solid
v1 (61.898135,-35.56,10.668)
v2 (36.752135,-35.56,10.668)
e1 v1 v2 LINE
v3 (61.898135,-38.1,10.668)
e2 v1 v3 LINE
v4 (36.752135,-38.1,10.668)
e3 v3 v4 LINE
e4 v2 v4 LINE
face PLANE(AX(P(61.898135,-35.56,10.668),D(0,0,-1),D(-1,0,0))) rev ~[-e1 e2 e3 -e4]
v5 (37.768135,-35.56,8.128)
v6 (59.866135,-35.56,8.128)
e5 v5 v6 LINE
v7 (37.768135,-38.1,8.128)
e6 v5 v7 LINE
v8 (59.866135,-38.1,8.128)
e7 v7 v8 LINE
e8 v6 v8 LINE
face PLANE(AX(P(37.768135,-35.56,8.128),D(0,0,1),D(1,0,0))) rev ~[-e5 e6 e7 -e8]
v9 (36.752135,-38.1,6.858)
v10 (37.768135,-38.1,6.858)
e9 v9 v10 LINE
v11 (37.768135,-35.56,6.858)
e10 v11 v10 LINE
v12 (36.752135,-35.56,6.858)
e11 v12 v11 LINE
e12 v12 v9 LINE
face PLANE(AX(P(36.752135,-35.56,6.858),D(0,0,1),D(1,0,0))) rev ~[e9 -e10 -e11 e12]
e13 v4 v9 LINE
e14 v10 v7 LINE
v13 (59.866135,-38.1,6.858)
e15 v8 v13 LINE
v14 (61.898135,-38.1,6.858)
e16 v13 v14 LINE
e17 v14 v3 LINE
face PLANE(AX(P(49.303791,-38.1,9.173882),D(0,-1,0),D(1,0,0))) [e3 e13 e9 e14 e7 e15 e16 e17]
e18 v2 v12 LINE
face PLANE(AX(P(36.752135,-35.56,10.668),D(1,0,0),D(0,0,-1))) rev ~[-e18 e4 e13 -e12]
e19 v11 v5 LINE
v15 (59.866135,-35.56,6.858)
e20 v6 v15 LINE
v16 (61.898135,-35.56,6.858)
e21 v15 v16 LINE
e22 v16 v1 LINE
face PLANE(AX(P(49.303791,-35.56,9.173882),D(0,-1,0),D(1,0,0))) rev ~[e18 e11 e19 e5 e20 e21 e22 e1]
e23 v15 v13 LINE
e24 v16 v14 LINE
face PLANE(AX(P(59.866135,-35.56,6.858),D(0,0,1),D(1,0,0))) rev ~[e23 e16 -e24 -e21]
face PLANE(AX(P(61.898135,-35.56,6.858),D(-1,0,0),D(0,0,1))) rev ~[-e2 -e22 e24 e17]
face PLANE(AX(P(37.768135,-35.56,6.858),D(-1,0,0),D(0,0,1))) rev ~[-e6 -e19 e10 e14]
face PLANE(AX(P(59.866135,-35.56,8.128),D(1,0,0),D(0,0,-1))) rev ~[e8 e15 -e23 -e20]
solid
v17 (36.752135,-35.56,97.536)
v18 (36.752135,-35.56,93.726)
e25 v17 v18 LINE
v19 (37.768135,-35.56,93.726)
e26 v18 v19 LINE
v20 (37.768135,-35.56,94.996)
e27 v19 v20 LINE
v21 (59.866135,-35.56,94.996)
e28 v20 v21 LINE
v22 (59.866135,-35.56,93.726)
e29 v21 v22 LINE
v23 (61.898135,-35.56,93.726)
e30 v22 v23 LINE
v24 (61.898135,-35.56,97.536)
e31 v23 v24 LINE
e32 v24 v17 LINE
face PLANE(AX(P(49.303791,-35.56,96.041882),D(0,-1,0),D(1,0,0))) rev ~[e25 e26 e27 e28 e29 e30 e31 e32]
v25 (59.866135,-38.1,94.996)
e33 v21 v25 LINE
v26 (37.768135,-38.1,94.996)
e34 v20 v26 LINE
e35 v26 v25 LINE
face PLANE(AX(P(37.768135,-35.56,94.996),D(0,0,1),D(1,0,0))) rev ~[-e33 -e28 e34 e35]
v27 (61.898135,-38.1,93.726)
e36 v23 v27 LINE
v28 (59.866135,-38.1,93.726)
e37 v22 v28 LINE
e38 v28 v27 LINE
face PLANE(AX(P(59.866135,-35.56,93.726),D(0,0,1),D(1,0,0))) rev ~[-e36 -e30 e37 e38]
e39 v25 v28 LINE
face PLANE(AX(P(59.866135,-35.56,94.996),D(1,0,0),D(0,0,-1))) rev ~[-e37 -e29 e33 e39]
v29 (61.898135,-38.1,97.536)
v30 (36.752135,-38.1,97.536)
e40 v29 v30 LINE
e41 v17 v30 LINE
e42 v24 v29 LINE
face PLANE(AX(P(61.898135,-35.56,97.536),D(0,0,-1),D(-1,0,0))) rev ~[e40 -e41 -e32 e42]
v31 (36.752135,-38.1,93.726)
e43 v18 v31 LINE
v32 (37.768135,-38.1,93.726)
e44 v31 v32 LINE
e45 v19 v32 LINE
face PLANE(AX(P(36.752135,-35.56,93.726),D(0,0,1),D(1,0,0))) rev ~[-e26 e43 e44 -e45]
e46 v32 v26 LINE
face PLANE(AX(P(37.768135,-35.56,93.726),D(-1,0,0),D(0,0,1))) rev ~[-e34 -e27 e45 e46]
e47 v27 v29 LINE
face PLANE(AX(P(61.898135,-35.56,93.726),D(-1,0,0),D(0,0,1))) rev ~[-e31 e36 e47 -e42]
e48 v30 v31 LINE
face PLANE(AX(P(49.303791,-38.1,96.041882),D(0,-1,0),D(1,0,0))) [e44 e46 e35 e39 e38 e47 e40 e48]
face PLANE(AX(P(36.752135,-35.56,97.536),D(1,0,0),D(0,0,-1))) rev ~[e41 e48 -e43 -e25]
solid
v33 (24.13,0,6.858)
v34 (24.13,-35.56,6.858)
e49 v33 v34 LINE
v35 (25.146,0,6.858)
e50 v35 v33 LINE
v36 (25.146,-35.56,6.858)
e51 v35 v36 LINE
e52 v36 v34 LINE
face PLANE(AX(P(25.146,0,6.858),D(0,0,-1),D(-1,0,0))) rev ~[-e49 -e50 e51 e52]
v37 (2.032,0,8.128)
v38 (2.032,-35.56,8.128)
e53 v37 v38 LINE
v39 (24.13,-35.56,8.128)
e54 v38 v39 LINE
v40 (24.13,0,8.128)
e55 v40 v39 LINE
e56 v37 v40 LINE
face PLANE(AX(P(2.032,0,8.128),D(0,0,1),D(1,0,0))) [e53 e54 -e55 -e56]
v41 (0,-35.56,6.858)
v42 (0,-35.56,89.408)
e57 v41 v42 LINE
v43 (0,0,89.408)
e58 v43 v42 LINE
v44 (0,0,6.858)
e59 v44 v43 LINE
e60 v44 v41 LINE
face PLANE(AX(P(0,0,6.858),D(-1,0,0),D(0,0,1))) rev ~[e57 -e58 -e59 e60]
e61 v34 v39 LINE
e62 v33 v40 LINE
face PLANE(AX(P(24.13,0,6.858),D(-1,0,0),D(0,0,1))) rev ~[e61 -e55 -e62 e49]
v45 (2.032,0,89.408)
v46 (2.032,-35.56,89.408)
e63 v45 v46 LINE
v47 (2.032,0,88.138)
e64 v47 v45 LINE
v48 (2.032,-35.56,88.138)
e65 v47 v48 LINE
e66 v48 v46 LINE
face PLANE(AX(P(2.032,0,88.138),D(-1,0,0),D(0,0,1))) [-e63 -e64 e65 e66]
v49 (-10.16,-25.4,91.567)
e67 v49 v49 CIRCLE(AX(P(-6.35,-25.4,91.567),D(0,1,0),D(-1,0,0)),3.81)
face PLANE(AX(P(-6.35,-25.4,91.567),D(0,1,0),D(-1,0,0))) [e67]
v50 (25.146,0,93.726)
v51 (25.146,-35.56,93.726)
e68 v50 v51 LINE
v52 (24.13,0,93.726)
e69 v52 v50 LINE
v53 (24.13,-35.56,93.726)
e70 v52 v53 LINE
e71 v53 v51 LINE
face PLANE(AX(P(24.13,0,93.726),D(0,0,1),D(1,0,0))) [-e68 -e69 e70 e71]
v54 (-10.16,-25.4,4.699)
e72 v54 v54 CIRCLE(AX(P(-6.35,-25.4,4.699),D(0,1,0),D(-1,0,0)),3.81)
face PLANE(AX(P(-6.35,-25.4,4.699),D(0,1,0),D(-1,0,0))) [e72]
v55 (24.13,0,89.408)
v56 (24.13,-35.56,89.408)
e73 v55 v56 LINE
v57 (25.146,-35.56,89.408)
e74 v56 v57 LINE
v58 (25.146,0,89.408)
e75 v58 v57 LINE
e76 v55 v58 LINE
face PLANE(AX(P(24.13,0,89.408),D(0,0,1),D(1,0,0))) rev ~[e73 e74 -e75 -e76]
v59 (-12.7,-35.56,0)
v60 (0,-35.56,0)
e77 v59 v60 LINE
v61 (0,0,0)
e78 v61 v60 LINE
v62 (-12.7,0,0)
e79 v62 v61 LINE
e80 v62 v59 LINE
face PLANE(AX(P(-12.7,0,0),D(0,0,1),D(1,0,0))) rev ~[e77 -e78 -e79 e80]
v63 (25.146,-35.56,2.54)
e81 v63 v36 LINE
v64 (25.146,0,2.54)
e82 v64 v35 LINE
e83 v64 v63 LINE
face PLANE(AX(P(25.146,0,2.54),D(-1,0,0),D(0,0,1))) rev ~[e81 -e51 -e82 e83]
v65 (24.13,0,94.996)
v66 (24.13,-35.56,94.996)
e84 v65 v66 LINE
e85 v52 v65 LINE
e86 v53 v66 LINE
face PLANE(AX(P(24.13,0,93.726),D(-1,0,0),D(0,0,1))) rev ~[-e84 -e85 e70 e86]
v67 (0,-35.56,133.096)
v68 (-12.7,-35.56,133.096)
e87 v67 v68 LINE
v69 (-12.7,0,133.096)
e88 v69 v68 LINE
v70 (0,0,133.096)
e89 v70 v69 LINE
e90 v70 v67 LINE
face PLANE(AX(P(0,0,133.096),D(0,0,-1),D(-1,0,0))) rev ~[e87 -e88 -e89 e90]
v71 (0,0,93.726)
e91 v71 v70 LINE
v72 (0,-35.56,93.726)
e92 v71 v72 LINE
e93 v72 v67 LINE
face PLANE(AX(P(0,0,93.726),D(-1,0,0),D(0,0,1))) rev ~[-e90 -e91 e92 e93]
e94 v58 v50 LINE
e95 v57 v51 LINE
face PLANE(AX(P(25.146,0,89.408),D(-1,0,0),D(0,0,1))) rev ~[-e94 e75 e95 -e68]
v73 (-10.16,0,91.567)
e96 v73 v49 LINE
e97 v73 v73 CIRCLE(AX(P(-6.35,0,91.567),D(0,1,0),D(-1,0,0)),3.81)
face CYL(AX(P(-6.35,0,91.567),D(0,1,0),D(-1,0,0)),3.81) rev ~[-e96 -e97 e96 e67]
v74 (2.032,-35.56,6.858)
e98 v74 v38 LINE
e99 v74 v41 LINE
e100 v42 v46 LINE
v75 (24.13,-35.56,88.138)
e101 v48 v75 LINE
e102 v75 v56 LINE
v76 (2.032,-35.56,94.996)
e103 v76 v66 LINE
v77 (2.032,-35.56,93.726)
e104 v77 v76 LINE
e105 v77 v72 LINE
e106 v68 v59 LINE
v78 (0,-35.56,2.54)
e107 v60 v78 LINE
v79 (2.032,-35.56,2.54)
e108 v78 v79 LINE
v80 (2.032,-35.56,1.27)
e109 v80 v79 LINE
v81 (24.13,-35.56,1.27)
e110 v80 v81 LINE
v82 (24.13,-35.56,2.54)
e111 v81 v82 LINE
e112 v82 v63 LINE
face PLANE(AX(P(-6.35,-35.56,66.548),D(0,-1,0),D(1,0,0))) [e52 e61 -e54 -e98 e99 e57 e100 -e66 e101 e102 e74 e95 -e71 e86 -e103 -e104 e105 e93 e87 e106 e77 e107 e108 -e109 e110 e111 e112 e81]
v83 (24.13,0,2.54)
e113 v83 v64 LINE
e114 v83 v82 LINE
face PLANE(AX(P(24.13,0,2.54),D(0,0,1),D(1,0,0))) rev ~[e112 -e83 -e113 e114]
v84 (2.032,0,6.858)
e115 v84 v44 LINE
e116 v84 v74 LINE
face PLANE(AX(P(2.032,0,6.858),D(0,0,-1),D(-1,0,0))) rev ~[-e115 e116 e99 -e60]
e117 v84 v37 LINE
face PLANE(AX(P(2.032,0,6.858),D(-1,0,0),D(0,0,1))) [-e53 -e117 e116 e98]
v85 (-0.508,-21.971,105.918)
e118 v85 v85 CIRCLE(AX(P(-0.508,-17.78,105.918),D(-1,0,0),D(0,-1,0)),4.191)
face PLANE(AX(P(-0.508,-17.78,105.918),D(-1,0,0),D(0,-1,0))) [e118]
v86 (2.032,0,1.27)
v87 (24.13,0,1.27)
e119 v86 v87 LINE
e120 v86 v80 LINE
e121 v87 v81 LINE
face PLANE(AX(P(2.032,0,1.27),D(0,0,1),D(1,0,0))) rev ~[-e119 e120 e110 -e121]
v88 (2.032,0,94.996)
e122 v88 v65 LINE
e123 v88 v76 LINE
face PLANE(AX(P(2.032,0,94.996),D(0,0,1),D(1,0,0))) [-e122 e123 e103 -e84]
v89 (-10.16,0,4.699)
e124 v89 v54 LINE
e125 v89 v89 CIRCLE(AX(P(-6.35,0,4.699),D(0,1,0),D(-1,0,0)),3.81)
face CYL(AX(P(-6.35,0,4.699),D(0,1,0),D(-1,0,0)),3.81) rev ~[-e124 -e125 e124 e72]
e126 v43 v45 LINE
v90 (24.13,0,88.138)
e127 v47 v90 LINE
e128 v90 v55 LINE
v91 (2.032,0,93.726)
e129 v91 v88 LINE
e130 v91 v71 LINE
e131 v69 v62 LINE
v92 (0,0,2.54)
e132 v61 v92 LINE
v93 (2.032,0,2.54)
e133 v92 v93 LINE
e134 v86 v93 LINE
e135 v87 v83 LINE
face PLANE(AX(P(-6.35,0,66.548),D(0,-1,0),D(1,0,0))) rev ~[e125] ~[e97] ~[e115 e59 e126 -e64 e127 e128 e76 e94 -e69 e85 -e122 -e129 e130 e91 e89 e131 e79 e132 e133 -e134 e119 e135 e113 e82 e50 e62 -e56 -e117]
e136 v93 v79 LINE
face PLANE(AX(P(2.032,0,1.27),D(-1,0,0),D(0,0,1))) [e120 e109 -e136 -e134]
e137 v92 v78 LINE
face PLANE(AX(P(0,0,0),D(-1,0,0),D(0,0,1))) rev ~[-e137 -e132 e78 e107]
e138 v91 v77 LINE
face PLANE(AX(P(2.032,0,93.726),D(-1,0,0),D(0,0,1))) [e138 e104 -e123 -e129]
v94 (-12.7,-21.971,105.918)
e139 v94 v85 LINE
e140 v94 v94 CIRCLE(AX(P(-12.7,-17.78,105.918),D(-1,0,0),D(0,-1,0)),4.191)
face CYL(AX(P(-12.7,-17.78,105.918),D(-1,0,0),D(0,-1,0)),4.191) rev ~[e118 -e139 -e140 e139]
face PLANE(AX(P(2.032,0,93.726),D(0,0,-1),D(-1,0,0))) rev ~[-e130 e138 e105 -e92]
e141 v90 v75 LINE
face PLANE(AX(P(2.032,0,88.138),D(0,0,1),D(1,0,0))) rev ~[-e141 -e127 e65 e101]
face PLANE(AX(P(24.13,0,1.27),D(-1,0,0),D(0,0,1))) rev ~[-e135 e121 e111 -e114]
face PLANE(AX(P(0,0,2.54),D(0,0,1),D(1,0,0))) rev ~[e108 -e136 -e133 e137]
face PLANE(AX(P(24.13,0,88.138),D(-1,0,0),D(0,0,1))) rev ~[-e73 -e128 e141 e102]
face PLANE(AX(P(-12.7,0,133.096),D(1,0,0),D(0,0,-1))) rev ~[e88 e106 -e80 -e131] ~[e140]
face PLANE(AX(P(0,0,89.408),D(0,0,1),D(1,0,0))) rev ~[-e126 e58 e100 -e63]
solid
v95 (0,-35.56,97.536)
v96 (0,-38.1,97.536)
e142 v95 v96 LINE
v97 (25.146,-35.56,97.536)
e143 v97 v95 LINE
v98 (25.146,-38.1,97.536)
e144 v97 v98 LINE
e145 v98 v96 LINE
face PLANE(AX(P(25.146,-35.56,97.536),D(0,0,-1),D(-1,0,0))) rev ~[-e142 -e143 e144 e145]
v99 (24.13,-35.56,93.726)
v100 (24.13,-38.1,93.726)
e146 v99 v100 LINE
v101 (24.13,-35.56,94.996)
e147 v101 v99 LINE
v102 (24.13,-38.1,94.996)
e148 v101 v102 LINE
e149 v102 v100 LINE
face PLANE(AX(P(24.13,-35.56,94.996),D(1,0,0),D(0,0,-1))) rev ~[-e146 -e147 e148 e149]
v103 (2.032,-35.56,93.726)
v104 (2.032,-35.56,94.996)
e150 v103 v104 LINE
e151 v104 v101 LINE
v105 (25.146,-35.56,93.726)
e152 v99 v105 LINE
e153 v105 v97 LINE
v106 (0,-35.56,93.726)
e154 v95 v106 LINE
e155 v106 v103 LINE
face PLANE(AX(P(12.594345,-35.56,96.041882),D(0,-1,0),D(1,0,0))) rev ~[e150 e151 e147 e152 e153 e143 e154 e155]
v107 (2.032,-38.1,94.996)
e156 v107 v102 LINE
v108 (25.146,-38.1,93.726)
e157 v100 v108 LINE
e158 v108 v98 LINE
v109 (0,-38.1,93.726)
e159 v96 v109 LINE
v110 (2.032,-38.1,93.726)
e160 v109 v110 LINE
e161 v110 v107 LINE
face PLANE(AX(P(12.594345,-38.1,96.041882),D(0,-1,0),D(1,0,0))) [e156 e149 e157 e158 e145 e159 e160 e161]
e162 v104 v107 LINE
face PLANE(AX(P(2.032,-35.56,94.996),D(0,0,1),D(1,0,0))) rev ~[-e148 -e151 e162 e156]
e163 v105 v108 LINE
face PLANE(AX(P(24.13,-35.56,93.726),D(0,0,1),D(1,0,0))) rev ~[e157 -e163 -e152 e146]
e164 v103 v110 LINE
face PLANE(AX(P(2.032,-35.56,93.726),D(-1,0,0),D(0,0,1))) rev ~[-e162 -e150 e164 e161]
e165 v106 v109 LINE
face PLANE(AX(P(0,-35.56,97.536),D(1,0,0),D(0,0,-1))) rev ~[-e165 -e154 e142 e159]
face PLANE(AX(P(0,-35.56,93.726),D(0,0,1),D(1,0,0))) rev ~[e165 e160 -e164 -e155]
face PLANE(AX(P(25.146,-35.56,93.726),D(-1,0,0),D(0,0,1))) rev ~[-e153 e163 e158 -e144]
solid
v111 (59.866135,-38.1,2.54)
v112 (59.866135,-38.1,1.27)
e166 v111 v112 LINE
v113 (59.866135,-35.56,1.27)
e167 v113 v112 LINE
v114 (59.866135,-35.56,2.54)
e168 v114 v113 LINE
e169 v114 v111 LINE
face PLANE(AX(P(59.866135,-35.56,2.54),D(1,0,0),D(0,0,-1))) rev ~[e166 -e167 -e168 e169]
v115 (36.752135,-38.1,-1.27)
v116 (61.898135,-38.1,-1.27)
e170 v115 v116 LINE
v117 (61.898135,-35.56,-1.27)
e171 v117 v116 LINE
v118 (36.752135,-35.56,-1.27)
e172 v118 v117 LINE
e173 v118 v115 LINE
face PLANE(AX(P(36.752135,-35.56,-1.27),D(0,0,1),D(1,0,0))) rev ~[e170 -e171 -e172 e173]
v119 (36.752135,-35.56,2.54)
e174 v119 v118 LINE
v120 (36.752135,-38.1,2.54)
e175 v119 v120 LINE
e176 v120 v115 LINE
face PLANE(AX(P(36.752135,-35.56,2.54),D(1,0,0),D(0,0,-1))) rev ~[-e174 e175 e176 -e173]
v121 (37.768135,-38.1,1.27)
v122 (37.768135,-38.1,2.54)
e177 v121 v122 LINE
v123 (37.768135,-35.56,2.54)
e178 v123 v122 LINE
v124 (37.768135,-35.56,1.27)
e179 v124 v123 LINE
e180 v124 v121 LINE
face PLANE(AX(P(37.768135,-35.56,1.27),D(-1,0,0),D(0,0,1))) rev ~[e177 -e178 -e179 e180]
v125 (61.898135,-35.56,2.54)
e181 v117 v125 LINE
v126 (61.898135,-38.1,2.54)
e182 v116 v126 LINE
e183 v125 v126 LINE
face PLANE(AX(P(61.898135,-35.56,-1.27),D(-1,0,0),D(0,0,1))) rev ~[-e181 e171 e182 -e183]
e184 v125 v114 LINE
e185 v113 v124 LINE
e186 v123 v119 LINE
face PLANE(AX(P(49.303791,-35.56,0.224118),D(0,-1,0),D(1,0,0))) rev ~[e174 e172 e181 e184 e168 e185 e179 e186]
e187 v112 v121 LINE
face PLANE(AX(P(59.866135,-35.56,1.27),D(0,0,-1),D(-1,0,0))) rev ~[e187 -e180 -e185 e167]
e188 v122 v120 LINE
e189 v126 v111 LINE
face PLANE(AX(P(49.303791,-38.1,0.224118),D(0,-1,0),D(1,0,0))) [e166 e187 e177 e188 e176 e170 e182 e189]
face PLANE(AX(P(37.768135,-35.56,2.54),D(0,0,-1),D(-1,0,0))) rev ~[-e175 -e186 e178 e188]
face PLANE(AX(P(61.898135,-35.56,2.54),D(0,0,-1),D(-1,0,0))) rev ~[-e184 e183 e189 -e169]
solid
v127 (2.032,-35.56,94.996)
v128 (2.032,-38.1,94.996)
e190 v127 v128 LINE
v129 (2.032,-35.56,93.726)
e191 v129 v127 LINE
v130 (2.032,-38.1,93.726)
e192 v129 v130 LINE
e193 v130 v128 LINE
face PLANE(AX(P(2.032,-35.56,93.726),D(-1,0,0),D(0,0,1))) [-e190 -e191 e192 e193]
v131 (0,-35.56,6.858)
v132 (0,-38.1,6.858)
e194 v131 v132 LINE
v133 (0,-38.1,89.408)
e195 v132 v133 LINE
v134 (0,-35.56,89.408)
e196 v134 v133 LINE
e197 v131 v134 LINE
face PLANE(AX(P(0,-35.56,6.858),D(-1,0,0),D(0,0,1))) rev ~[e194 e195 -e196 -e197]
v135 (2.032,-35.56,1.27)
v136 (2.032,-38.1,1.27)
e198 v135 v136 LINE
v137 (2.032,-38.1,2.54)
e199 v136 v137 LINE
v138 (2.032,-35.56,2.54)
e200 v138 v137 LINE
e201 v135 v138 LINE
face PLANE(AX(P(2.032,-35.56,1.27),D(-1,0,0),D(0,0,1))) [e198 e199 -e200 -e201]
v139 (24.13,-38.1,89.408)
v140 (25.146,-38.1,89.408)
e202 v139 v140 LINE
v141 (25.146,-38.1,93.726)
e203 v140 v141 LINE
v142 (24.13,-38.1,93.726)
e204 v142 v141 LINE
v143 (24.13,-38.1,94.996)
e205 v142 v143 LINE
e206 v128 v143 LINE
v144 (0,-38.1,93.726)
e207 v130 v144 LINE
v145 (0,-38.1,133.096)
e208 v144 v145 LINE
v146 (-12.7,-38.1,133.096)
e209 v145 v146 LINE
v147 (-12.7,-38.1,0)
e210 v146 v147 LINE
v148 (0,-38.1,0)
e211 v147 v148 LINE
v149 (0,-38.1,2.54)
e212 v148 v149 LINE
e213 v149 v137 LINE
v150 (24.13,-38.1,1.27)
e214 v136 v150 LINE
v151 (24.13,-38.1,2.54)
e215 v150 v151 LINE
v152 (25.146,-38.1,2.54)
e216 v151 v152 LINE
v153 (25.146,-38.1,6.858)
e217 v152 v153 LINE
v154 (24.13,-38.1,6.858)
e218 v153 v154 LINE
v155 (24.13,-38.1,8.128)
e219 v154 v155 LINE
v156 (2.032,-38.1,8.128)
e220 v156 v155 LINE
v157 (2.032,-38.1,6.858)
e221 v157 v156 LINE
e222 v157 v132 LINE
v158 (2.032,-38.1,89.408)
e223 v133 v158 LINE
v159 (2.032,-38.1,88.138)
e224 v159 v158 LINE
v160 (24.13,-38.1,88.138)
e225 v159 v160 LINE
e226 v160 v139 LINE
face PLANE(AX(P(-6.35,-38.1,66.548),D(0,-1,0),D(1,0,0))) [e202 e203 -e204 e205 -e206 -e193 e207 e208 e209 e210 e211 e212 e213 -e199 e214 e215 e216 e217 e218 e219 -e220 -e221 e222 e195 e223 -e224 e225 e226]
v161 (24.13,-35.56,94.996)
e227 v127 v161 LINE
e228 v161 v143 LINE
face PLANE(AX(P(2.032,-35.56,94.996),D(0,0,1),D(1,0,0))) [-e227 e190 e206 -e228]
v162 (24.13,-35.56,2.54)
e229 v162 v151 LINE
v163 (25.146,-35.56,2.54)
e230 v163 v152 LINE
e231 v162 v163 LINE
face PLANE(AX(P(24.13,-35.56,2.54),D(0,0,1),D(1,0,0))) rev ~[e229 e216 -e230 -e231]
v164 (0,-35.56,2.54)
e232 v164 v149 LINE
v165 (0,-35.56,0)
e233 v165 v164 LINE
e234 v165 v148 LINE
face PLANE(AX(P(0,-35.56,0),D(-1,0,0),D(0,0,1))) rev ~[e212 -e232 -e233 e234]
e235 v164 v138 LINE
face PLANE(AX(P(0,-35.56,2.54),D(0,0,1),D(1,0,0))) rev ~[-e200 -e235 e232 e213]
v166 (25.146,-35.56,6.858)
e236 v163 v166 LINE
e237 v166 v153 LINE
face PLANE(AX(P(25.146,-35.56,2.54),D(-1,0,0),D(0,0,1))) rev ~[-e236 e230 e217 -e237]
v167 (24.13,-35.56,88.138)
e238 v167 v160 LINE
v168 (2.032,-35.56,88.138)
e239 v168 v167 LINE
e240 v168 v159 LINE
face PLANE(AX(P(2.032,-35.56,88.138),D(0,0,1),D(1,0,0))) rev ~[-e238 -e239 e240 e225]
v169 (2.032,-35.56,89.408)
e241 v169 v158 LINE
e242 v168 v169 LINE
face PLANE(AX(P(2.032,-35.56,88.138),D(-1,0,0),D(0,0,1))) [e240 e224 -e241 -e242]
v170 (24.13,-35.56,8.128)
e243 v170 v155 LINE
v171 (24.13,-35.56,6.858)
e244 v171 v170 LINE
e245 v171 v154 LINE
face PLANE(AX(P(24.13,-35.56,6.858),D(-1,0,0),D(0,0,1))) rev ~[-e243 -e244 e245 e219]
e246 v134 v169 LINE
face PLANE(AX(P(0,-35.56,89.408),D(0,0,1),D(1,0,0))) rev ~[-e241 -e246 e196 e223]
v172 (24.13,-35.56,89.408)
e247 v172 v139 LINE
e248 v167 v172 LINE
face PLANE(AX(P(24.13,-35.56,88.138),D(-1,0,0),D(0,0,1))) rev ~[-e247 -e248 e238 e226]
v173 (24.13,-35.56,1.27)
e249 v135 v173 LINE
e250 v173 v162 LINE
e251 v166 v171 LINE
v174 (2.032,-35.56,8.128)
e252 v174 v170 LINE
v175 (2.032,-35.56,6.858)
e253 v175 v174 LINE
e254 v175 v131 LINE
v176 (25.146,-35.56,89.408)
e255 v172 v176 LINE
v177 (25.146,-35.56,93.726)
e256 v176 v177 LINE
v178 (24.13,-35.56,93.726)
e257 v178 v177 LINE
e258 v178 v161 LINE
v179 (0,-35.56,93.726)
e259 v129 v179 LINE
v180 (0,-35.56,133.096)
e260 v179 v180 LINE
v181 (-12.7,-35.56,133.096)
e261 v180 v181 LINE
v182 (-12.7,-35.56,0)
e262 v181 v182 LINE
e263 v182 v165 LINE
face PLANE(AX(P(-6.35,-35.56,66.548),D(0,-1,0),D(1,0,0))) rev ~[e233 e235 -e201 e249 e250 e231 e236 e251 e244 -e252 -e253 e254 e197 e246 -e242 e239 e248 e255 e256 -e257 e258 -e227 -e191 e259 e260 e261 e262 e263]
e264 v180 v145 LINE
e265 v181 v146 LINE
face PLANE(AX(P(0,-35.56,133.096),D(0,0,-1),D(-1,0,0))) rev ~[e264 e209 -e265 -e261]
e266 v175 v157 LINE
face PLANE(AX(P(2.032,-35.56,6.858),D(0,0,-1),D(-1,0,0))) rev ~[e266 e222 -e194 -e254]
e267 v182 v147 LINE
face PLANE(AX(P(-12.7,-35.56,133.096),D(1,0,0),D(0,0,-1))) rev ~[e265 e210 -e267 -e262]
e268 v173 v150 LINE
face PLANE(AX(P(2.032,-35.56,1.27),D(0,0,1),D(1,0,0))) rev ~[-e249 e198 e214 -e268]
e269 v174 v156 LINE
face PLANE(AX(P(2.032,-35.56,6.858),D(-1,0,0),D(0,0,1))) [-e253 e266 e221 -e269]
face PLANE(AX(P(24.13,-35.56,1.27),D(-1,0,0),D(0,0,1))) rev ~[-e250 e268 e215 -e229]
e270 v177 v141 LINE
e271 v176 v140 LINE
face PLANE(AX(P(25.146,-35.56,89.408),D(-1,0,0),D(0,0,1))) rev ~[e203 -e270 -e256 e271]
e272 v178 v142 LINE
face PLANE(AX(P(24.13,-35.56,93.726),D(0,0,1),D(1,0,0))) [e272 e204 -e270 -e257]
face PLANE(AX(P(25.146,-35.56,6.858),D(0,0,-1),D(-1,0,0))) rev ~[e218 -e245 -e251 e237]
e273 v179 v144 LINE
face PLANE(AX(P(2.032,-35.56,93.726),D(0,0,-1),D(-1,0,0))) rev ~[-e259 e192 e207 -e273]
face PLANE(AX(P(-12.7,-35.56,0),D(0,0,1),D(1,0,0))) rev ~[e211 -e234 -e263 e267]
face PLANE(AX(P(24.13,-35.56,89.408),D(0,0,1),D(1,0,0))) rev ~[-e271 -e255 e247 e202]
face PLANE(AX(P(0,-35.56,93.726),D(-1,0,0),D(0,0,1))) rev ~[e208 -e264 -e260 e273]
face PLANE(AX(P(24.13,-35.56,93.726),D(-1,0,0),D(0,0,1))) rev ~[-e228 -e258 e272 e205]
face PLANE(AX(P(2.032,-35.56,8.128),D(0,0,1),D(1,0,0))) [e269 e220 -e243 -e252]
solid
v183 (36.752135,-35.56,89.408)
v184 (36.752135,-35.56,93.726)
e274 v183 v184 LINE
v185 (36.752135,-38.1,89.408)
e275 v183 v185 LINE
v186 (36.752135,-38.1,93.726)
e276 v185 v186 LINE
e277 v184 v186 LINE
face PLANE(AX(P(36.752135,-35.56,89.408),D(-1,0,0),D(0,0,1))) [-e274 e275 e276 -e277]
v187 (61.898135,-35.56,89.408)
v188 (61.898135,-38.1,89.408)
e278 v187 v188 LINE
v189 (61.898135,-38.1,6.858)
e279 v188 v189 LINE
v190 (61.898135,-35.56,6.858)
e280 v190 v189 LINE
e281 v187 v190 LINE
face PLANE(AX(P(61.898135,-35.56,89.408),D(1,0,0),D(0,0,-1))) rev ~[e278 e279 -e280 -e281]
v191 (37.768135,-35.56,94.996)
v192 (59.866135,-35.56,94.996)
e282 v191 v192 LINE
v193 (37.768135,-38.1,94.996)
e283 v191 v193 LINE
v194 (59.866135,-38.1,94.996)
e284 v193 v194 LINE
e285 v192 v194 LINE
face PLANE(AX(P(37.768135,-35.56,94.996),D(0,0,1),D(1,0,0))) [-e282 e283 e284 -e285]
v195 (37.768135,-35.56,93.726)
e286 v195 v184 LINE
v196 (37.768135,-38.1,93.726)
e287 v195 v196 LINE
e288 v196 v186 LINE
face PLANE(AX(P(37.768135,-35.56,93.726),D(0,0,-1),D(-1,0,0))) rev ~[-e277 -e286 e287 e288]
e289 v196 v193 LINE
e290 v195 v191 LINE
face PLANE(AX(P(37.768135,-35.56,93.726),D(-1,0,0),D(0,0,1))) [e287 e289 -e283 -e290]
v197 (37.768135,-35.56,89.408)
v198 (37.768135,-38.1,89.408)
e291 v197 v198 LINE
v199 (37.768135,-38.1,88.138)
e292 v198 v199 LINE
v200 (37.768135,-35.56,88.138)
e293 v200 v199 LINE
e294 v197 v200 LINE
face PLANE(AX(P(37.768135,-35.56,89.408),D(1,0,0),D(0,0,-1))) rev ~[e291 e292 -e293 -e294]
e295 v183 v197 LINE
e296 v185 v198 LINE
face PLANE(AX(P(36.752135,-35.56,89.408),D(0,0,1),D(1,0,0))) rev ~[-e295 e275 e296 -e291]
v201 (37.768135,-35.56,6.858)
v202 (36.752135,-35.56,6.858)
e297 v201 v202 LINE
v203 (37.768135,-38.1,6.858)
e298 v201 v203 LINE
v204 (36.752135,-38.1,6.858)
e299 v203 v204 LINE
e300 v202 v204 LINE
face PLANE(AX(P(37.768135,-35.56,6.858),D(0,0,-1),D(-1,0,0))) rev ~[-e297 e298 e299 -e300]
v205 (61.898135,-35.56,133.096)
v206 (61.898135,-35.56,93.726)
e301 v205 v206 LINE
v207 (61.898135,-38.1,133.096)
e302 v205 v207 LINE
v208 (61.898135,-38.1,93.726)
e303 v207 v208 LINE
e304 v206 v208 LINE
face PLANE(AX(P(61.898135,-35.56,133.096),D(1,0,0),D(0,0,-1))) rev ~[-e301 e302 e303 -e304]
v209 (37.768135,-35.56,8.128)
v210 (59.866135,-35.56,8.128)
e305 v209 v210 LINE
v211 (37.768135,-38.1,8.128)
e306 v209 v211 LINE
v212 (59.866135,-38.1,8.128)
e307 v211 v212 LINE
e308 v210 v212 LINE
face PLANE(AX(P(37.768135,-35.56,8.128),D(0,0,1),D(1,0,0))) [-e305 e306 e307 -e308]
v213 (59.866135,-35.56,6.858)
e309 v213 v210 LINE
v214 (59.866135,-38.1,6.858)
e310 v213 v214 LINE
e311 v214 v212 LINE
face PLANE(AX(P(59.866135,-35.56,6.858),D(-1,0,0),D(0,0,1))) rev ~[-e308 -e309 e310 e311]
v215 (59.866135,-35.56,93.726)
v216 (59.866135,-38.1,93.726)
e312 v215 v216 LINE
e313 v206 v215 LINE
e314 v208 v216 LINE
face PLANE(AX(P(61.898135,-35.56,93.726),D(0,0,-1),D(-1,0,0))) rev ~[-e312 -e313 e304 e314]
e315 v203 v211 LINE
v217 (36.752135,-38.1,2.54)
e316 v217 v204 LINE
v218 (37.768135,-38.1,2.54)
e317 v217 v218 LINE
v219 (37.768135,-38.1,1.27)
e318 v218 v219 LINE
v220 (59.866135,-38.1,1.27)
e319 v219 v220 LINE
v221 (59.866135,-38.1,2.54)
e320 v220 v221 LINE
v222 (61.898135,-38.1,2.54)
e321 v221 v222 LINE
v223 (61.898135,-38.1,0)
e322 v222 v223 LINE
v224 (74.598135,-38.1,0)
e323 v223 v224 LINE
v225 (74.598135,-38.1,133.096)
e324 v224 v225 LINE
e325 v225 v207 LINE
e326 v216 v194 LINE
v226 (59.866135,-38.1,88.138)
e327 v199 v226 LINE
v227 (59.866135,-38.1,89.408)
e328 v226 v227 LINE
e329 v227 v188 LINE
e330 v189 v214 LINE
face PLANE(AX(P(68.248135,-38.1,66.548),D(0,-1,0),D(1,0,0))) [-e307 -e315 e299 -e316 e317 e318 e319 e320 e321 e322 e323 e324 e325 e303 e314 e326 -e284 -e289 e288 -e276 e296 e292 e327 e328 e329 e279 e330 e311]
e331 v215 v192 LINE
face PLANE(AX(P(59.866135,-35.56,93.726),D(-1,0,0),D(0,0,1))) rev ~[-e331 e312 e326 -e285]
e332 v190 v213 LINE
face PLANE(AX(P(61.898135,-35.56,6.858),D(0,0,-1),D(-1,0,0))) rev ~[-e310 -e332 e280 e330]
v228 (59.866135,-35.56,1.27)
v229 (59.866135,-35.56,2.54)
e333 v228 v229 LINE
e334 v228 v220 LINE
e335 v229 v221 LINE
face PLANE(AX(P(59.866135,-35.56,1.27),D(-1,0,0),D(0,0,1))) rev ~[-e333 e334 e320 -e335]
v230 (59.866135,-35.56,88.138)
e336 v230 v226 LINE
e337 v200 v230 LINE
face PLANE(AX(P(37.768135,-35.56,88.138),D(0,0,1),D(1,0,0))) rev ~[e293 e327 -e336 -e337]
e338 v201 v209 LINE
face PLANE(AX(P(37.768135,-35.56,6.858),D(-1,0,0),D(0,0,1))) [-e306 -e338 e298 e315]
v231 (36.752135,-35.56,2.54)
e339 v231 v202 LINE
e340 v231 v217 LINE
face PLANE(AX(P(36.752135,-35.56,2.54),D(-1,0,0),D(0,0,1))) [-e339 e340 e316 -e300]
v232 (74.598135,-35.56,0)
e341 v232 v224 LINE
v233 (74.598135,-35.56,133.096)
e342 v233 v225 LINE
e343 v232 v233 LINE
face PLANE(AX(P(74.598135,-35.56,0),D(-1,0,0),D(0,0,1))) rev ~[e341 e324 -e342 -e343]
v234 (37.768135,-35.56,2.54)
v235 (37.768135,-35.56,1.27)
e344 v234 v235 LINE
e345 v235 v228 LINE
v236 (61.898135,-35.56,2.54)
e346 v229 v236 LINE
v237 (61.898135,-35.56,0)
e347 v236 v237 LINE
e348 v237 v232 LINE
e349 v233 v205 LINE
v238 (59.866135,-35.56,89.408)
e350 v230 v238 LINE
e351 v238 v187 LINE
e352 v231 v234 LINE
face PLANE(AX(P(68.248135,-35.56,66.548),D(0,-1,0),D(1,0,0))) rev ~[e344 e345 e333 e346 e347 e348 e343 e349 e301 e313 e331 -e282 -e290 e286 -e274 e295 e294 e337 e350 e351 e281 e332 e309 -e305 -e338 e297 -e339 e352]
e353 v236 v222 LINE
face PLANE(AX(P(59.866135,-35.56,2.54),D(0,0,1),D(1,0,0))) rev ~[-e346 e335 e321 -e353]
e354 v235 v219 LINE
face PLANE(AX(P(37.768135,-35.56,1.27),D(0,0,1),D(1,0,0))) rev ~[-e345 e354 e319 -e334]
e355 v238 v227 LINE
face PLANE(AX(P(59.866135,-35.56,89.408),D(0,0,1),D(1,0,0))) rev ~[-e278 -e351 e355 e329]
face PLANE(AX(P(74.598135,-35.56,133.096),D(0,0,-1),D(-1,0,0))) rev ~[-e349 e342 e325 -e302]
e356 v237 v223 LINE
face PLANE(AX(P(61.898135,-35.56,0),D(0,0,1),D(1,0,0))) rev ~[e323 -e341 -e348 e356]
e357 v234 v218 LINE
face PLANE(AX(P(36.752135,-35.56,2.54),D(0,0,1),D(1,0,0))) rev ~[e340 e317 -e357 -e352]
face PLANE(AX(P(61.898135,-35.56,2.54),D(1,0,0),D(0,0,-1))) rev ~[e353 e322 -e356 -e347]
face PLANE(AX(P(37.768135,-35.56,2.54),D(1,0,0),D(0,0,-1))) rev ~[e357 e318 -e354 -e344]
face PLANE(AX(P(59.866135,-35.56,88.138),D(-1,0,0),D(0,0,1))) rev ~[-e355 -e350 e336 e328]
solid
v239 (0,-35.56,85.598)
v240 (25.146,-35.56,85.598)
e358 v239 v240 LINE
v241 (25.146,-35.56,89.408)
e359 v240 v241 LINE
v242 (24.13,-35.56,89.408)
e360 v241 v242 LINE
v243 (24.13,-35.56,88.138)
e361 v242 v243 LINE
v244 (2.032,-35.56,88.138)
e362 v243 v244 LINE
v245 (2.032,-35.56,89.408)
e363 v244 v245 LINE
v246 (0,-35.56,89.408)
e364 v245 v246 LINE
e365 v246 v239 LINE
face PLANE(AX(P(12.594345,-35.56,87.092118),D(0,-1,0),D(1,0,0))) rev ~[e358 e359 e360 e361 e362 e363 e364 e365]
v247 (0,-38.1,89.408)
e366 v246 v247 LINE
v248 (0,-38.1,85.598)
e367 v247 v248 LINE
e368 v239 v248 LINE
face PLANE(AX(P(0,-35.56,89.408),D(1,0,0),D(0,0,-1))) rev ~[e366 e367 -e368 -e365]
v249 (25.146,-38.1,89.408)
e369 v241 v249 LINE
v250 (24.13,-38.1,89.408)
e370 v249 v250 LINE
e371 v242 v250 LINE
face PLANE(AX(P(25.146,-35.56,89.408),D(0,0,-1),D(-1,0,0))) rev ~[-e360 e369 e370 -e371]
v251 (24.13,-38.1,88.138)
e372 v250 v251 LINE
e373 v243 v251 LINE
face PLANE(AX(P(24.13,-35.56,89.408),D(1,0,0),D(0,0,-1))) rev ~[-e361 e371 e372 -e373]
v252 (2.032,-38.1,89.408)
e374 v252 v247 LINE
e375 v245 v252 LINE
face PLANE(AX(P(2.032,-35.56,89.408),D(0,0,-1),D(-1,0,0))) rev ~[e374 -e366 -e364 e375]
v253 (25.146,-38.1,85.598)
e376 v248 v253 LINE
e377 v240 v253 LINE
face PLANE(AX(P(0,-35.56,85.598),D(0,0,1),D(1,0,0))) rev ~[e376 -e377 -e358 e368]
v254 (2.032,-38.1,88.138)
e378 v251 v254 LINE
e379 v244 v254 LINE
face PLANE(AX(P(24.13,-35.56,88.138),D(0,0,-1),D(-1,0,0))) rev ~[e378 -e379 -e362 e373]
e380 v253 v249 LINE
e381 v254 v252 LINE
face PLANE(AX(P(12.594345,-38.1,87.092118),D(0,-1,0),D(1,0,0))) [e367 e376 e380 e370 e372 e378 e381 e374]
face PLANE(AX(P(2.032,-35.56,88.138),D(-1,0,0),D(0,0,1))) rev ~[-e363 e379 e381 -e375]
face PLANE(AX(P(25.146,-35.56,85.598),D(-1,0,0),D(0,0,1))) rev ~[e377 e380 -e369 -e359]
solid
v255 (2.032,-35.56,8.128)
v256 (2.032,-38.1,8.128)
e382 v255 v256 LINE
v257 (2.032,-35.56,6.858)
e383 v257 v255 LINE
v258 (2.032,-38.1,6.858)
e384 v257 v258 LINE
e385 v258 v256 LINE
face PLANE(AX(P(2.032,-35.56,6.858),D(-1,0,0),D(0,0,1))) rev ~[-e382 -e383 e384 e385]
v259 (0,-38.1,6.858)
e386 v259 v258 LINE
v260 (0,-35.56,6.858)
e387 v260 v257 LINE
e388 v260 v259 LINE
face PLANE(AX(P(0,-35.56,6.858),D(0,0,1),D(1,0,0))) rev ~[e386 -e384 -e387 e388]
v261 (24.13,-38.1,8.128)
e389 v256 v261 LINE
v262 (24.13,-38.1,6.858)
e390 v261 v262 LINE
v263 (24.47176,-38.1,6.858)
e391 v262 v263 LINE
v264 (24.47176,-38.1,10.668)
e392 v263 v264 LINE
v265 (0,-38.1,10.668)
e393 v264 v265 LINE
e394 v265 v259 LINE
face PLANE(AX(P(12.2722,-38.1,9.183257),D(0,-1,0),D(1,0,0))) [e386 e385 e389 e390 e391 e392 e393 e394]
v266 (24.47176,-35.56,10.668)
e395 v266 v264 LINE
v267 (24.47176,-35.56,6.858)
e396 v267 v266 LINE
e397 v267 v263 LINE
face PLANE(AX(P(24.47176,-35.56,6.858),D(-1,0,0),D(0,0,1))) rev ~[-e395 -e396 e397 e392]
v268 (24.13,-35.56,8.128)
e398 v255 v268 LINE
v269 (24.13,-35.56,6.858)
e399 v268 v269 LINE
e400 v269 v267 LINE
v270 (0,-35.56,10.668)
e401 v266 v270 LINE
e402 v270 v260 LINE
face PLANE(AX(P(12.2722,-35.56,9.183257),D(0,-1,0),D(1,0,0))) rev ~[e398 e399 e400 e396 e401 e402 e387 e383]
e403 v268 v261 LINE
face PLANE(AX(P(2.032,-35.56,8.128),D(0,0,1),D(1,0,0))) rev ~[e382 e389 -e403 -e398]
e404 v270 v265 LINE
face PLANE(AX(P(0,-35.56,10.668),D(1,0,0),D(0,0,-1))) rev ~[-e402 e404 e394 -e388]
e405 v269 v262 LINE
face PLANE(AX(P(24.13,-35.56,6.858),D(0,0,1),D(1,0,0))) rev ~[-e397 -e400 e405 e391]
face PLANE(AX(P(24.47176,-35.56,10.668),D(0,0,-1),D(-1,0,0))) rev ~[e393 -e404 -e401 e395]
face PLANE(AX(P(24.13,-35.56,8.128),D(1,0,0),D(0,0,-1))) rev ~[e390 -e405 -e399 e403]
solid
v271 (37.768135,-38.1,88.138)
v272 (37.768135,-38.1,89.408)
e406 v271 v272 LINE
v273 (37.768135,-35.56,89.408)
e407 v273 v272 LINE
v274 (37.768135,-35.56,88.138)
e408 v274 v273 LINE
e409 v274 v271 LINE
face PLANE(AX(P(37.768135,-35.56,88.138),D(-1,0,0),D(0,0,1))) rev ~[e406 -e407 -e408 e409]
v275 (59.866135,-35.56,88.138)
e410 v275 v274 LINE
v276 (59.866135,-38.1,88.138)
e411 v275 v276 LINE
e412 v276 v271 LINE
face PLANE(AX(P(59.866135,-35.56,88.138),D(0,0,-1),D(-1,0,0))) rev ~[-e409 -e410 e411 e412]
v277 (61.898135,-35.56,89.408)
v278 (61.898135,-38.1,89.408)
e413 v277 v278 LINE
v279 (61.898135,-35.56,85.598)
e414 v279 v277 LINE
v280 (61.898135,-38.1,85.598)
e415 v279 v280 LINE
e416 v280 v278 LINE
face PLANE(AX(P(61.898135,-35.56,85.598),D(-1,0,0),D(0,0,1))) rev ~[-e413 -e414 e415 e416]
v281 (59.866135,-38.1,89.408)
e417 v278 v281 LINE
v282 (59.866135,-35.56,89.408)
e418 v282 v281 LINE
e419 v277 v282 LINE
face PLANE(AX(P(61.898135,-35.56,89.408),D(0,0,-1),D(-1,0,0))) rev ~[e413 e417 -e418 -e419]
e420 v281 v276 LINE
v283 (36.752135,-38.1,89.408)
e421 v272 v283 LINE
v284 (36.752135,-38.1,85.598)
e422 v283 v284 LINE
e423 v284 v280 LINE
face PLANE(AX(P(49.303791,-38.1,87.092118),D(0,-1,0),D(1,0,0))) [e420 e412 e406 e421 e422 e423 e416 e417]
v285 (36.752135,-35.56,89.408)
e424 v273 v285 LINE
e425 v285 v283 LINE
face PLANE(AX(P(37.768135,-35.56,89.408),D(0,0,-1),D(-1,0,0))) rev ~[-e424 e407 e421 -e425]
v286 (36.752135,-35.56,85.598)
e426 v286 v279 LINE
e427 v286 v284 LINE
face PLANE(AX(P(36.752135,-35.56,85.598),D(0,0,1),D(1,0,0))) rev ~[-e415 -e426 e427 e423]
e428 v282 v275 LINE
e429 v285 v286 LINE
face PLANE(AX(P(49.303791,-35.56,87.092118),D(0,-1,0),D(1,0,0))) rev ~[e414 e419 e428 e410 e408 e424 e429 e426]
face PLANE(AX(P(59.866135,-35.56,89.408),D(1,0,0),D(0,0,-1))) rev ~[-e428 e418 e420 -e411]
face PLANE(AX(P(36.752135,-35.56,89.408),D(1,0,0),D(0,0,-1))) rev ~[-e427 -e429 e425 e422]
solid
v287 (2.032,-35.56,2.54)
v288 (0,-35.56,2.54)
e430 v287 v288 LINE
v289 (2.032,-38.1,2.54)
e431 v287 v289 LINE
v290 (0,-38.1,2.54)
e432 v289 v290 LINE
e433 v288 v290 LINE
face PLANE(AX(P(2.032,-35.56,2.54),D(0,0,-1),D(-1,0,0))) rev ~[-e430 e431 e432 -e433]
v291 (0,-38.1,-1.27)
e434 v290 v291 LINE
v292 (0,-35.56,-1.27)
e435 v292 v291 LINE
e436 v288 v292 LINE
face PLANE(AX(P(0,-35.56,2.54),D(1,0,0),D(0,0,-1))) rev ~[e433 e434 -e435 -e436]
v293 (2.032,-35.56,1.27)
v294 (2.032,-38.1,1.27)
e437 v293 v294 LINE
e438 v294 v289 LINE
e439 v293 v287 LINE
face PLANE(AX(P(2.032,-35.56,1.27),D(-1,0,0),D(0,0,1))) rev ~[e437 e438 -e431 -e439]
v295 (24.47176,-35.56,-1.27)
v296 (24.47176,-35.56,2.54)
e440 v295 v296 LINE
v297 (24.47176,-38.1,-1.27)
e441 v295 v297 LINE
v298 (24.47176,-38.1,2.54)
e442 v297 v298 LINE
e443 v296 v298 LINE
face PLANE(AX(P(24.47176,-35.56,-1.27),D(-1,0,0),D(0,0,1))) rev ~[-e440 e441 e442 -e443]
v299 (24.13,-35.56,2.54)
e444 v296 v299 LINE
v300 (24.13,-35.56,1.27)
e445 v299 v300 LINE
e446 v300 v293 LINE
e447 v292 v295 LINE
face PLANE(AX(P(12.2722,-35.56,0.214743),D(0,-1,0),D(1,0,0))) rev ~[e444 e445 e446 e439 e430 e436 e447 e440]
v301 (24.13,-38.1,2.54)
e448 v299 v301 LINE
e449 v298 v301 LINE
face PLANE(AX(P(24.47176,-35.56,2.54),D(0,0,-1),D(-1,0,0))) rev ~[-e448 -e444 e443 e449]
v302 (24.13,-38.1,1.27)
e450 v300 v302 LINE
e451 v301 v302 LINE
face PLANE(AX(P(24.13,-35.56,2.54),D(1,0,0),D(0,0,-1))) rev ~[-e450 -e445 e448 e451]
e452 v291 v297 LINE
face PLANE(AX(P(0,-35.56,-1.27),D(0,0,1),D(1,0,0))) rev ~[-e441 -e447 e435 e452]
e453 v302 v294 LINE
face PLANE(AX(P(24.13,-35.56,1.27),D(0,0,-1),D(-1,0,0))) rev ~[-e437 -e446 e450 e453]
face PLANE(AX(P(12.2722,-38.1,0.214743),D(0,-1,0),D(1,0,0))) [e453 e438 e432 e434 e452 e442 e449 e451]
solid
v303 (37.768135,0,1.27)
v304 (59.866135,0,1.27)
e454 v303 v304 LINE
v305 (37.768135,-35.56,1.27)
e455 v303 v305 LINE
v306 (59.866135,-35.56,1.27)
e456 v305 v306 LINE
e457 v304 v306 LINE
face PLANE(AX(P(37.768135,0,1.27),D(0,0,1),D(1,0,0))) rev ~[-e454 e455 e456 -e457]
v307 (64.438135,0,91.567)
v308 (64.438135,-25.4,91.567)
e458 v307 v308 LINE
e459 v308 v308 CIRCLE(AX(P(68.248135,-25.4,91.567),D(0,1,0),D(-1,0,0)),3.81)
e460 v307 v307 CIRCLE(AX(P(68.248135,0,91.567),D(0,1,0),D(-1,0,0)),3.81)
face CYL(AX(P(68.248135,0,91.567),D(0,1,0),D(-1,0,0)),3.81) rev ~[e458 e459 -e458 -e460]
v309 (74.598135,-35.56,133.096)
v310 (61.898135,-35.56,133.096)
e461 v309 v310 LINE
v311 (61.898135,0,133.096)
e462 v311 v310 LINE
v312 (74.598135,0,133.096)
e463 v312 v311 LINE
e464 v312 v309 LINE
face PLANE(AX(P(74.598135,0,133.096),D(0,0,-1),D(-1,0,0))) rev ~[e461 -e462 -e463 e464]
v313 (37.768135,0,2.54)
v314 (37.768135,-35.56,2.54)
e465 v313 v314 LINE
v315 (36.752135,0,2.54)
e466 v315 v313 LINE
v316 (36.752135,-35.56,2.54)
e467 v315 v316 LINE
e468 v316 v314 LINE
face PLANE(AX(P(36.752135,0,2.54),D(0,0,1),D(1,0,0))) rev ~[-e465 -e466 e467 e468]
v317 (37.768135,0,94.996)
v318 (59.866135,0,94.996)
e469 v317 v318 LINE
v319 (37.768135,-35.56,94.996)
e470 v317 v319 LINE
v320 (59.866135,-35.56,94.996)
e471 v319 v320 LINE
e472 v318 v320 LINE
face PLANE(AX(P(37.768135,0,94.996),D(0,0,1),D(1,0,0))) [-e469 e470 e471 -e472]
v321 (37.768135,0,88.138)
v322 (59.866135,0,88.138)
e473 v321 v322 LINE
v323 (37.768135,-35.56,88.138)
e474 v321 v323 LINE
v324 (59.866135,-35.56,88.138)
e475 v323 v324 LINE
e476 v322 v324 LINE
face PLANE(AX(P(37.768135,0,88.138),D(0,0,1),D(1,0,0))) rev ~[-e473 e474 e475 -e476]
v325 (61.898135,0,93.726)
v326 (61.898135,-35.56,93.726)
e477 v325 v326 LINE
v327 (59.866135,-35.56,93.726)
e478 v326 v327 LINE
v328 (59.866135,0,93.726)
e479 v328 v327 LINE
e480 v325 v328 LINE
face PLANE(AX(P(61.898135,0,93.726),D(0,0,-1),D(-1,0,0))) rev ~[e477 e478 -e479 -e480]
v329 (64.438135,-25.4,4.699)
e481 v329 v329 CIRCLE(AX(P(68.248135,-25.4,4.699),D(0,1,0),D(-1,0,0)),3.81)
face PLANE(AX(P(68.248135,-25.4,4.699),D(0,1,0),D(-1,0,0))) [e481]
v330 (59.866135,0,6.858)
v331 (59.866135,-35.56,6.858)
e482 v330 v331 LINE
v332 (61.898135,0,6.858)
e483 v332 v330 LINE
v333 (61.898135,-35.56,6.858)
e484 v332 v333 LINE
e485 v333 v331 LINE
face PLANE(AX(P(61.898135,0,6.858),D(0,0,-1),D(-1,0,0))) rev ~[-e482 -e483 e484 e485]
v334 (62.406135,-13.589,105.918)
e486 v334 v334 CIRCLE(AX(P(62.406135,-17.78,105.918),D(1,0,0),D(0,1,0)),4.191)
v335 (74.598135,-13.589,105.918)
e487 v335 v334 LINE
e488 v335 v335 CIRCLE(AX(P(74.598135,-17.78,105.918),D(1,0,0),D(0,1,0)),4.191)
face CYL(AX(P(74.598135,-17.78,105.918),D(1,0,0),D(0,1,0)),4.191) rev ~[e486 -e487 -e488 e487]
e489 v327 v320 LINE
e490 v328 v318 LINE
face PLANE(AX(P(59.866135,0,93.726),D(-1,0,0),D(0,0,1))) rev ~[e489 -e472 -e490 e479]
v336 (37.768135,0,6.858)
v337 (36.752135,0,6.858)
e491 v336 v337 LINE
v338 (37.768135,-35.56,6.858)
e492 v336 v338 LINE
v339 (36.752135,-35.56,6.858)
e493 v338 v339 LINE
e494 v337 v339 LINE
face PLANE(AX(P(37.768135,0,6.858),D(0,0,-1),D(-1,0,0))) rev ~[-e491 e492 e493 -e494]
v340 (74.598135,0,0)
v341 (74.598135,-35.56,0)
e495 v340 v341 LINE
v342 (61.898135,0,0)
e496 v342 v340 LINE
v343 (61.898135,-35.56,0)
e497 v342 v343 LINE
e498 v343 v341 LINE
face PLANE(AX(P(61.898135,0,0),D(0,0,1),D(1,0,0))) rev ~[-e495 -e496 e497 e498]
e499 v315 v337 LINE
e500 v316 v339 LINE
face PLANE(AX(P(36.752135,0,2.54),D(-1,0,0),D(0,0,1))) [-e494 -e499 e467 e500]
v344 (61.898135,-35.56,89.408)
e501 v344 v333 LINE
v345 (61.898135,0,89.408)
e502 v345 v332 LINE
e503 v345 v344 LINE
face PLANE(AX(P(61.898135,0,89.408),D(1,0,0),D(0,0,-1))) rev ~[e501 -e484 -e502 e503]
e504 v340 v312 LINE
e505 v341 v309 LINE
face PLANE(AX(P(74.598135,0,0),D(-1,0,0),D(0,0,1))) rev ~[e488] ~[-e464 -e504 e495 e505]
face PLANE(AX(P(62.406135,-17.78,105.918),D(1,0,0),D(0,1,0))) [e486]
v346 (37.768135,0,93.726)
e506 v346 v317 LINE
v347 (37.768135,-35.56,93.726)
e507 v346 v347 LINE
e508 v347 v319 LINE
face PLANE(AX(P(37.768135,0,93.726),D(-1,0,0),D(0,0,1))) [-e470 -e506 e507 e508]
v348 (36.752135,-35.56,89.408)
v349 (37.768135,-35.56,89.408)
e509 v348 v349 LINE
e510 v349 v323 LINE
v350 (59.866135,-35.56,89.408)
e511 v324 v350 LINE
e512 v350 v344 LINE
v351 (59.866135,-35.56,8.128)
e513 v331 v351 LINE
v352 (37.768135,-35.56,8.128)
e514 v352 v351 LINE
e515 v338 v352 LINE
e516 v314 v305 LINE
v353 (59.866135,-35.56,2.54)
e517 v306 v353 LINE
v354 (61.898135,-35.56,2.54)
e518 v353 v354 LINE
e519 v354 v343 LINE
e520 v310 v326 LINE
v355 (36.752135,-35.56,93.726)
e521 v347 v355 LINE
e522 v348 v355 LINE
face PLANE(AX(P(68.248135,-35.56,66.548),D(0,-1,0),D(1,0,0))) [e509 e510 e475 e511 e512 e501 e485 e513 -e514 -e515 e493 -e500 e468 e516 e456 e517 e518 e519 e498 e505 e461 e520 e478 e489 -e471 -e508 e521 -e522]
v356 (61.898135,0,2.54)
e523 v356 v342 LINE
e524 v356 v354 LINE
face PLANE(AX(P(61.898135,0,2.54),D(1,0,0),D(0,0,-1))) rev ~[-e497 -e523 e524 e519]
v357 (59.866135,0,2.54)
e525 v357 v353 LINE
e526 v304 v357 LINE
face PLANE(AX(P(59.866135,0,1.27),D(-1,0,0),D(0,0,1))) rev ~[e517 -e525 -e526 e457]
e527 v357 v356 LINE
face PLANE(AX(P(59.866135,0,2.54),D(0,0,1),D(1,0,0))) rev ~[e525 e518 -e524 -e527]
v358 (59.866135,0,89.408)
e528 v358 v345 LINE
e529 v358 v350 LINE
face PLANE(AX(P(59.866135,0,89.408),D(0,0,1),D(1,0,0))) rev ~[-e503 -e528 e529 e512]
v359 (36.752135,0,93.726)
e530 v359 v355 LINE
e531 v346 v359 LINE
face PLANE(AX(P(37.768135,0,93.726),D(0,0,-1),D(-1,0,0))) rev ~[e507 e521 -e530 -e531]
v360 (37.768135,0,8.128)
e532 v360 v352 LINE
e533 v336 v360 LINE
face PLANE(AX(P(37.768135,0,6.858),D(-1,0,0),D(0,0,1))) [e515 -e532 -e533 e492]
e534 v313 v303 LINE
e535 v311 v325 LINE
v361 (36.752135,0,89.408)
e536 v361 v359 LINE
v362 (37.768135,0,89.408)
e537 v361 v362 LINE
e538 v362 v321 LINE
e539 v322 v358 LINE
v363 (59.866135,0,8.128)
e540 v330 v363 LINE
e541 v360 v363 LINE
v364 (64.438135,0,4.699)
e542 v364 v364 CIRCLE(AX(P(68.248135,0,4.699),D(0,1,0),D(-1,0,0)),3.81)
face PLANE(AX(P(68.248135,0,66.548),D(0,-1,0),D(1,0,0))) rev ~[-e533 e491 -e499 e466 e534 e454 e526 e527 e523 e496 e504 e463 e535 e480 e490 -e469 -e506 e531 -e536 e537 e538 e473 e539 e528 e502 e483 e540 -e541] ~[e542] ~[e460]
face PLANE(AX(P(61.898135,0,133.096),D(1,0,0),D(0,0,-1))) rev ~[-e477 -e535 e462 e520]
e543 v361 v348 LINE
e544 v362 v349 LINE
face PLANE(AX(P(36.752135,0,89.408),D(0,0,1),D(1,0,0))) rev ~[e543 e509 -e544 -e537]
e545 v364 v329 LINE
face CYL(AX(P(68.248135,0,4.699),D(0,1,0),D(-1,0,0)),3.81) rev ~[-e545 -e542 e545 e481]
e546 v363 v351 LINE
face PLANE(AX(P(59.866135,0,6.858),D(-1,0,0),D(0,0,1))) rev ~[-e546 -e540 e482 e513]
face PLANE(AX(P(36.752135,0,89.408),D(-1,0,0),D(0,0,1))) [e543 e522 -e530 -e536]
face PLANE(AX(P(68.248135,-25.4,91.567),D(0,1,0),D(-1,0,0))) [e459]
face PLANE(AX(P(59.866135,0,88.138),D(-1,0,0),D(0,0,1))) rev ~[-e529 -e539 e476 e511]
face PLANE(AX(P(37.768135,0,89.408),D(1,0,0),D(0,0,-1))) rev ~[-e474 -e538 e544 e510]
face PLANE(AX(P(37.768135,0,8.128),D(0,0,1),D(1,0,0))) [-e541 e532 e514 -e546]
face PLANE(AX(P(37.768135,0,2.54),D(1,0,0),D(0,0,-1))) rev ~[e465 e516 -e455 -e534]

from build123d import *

# Parameters (mm, degrees)
F0_W      = 22.098
F0_H      = 4.318
F0_W_2    = 2.032
F0_H_2    = 1.27
F0_W_3    = 1.016
F1_DEPTH  = 35.56
F4_DEPTH  = 2.54
F5_R      = 4.191
F6_DEPTH  = 12.192
F7_R      = 4.191
F8_DEPTH  = 12.192
F10_R     = 3.81
F11_DEPTH = 25.4
F9_R      = 3.81
F12_DEPTH = 25.4
F13_DEPTH = 2.54


with BuildPart() as f1:
    # F0 (on Front) → F1 (new body)
    with BuildSketch(Plane.XZ):
        Polygon((0, 133.096), (-12.7, 133.096), (-12.7, 0), (0, 0), (0, 2.54), (0, 6.858), (0, 89.408), (0, 93.726), align=None)
        with Locations((13.081, 4.699)):
            Rectangle(F0_W, F0_H)
        with Locations((1.016, 4.699)):
            Rectangle(F0_W_2, F0_H)
        with Locations((13.081, 1.905)):
            Rectangle(F0_W, F0_H_2)
        with Locations((24.638, 4.699)):
            Rectangle(F0_W_3, F0_H)
        with Locations((13.081, 7.493)):
            Rectangle(F0_W, F0_H_2)
        with Locations((13.081, 91.567)):
            Rectangle(F0_W, F0_H)
        with Locations((1.016, 91.567)):
            Rectangle(F0_W_2, F0_H)
        with Locations((13.081, 94.361)):
            Rectangle(F0_W, F0_H_2)
        with Locations((24.638, 91.567)):
            Rectangle(F0_W_3, F0_H)
        with Locations((13.081, 88.773)):
            Rectangle(F0_W, F0_H_2)
    extrude(amount=F1_DEPTH)

    # F5 (on face) → F6 (cut)
    with BuildSketch(Plane(origin=(-12.7, 0, 0), x_dir=(0, -1, 0), z_dir=(-1, 0, 0))):
        with Locations((17.78, 105.918)):
            Circle(F5_R)
    extrude(amount=-F6_DEPTH, mode=Mode.SUBTRACT)

    # F10 (on face) → F11 (cut)
    with BuildSketch(Plane(origin=(0, 0, 0), x_dir=(-1, 0, 0), z_dir=(0, 1, 0))):
        with Locations((6.35, 91.567)):
            Circle(F10_R)
        with Locations((6.35, 4.699)):
            Circle(F10_R)
    extrude(amount=-F11_DEPTH, mode=Mode.SUBTRACT)


with BuildPart() as f1b:
    # F0 (on Front) → F1, piece 2 (new body)
    with BuildSketch(Plane.XZ):
        Polygon((61.8981353288, 93.726), (61.8981353288, 89.408), (61.8981353288, 6.858), (61.8981353288, 2.54), (61.8981353288, 0), (74.5981353288, 0), (74.5981353288, 133.096), (61.8981353288, 133.096), align=None)
        with Locations((48.8171353288, 1.905)):
            Rectangle(F0_W, F0_H_2)
        with Locations((48.8171353288, 4.699)):
            Rectangle(F0_W, F0_H)
        with Locations((37.2601353288, 4.699)):
            Rectangle(F0_W_3, F0_H)
        with Locations((60.8821353288, 4.699)):
            Rectangle(F0_W_2, F0_H)
        with Locations((48.8171353288, 7.493)):
            Rectangle(F0_W, F0_H_2)
        with Locations((48.8171353288, 88.773)):
            Rectangle(F0_W, F0_H_2)
        with Locations((48.8171353288, 91.567)):
            Rectangle(F0_W, F0_H)
        with Locations((37.2601353288, 91.567)):
            Rectangle(F0_W_3, F0_H)
        with Locations((60.8821353288, 91.567)):
            Rectangle(F0_W_2, F0_H)
        with Locations((48.8171353288, 94.361)):
            Rectangle(F0_W, F0_H_2)
    extrude(amount=F1_DEPTH)

    # F7 (on face) → F8 (cut)
    with BuildSketch(Plane.YZ.offset(74.5981353288)):
        with Locations((-17.78, 105.918)):
            Circle(F7_R)
    extrude(amount=-F8_DEPTH, mode=Mode.SUBTRACT)

    # F9 (on face) → F12 (cut)
    with BuildSketch(Plane(origin=(0, 0, 0), x_dir=(-1, 0, 0), z_dir=(0, 1, 0))):
        with Locations((-68.2481353288, 91.567)):
            Circle(F9_R)
        with Locations((-68.2481353288, 4.699)):
            Circle(F9_R)
    extrude(amount=-F12_DEPTH, mode=Mode.SUBTRACT)


with BuildPart() as f4:
    # F3 (on face) → F4 (new body)
    with BuildSketch(Plane.XZ.offset(35.56)):
        Polygon((36.7521353288, 89.408), (36.7521353288, 85.598), (61.8981353288, 85.598), (61.8981353288, 89.408), (59.8661353288, 89.408), (59.8661353288, 88.138), (37.7681353288, 88.138), (37.7681353288, 89.408), align=None)
    extrude(amount=F4_DEPTH)


with BuildPart() as f4b:
    # F3 (on face) → F4, piece 2 (new body)
    with BuildSketch(Plane.XZ.offset(35.56)):
        Polygon((36.7521353288, 97.536), (36.7521353288, 93.726), (37.7681353288, 93.726), (37.7681353288, 94.996), (59.8661353288, 94.996), (59.8661353288, 93.726), (61.8981353288, 93.726), (61.8981353288, 97.536), align=None)
    extrude(amount=F4_DEPTH)


with BuildPart() as f4c:
    # F3 (on face) → F4, piece 3 (new body)
    with BuildSketch(Plane.XZ.offset(35.56)):
        Polygon((61.8981353288, 6.858), (61.8981353288, 10.668), (36.7521353288, 10.668), (36.7521353288, 6.858), (37.7681353288, 6.858), (37.7681353288, 8.128), (59.8661353288, 8.128), (59.8661353288, 6.858), align=None)
    extrude(amount=F4_DEPTH)


with BuildPart() as f4d:
    # F3 (on face) → F4, piece 4 (new body)
    with BuildSketch(Plane.XZ.offset(35.56)):
        Polygon((61.8981353288, 0), (61.8981353288, 2.54), (59.8661353288, 2.54), (59.8661353288, 1.27), (37.7681353288, 1.27), (37.7681353288, 2.54), (36.7521353288, 2.54), (36.7521353288, -1.27), (61.8981353288, -1.27), align=None)
    extrude(amount=F4_DEPTH)


with BuildPart() as f4e:
    # F2 (on face) → F4, piece 5 (new body)
    with BuildSketch(Plane.XZ.offset(35.56)):
        Polygon((25.146, 97.536), (0, 97.536), (0, 93.726), (2.032, 93.726), (2.032, 94.996), (24.13, 94.996), (24.13, 93.726), (25.146, 93.726), align=None)
    extrude(amount=F4_DEPTH)


with BuildPart() as f4f:
    # F2 (on face) → F4, piece 6 (new body)
    with BuildSketch(Plane.XZ.offset(35.56)):
        Polygon((0, 89.408), (0, 85.598), (25.146, 85.598), (25.146, 89.408), (24.13, 89.408), (24.13, 88.138), (2.032, 88.138), (2.032, 89.408), align=None)
    extrude(amount=F4_DEPTH)


with BuildPart() as f4g:
    # F2 (on face) → F4, piece 7 (new body)
    with BuildSketch(Plane.XZ.offset(35.56)):
        Polygon((24.13, 6.858), (24.4717603516, 6.858), (24.4717603516, 10.668), (0, 10.668), (0, 6.858), (2.032, 6.858), (2.032, 8.128), (24.13, 8.128), align=None)
    extrude(amount=F4_DEPTH)


with BuildPart() as f4h:
    # F2 (on face) → F4, piece 8 (new body)
    with BuildSketch(Plane.XZ.offset(35.56)):
        Polygon((0, 0), (0, -1.27), (24.4717603516, -1.27), (24.4717603516, 2.54), (24.13, 2.54), (24.13, 1.27), (2.032, 1.27), (2.032, 2.54), (0, 2.54), align=None)
    extrude(amount=F4_DEPTH)


with BuildPart() as f13:
    # F13 (new): a face of the model
    f13_faces = [f1.part.faces().sort_by_distance(p)[0] for p in [
        (-3.2354290551, -35.56, 63.5445185587),
    ]]
    extrude(f13_faces, amount=F13_DEPTH)


with BuildPart() as f13b:
    # F13#2 (new): a face of the model
    f13_2_faces = [f1b.part.faces().sort_by_distance(p)[0] for p in [
        (65.1335643839, -35.56, 63.5445185587),
    ]]
    extrude(f13_2_faces, amount=F13_DEPTH)


solid = Compound([f1.part, f1b.part, f4.part, f4b.part, f4c.part, f4d.part, f4e.part, f4f.part, f4g.part, f4h.part, f13.part, f13b.part])
